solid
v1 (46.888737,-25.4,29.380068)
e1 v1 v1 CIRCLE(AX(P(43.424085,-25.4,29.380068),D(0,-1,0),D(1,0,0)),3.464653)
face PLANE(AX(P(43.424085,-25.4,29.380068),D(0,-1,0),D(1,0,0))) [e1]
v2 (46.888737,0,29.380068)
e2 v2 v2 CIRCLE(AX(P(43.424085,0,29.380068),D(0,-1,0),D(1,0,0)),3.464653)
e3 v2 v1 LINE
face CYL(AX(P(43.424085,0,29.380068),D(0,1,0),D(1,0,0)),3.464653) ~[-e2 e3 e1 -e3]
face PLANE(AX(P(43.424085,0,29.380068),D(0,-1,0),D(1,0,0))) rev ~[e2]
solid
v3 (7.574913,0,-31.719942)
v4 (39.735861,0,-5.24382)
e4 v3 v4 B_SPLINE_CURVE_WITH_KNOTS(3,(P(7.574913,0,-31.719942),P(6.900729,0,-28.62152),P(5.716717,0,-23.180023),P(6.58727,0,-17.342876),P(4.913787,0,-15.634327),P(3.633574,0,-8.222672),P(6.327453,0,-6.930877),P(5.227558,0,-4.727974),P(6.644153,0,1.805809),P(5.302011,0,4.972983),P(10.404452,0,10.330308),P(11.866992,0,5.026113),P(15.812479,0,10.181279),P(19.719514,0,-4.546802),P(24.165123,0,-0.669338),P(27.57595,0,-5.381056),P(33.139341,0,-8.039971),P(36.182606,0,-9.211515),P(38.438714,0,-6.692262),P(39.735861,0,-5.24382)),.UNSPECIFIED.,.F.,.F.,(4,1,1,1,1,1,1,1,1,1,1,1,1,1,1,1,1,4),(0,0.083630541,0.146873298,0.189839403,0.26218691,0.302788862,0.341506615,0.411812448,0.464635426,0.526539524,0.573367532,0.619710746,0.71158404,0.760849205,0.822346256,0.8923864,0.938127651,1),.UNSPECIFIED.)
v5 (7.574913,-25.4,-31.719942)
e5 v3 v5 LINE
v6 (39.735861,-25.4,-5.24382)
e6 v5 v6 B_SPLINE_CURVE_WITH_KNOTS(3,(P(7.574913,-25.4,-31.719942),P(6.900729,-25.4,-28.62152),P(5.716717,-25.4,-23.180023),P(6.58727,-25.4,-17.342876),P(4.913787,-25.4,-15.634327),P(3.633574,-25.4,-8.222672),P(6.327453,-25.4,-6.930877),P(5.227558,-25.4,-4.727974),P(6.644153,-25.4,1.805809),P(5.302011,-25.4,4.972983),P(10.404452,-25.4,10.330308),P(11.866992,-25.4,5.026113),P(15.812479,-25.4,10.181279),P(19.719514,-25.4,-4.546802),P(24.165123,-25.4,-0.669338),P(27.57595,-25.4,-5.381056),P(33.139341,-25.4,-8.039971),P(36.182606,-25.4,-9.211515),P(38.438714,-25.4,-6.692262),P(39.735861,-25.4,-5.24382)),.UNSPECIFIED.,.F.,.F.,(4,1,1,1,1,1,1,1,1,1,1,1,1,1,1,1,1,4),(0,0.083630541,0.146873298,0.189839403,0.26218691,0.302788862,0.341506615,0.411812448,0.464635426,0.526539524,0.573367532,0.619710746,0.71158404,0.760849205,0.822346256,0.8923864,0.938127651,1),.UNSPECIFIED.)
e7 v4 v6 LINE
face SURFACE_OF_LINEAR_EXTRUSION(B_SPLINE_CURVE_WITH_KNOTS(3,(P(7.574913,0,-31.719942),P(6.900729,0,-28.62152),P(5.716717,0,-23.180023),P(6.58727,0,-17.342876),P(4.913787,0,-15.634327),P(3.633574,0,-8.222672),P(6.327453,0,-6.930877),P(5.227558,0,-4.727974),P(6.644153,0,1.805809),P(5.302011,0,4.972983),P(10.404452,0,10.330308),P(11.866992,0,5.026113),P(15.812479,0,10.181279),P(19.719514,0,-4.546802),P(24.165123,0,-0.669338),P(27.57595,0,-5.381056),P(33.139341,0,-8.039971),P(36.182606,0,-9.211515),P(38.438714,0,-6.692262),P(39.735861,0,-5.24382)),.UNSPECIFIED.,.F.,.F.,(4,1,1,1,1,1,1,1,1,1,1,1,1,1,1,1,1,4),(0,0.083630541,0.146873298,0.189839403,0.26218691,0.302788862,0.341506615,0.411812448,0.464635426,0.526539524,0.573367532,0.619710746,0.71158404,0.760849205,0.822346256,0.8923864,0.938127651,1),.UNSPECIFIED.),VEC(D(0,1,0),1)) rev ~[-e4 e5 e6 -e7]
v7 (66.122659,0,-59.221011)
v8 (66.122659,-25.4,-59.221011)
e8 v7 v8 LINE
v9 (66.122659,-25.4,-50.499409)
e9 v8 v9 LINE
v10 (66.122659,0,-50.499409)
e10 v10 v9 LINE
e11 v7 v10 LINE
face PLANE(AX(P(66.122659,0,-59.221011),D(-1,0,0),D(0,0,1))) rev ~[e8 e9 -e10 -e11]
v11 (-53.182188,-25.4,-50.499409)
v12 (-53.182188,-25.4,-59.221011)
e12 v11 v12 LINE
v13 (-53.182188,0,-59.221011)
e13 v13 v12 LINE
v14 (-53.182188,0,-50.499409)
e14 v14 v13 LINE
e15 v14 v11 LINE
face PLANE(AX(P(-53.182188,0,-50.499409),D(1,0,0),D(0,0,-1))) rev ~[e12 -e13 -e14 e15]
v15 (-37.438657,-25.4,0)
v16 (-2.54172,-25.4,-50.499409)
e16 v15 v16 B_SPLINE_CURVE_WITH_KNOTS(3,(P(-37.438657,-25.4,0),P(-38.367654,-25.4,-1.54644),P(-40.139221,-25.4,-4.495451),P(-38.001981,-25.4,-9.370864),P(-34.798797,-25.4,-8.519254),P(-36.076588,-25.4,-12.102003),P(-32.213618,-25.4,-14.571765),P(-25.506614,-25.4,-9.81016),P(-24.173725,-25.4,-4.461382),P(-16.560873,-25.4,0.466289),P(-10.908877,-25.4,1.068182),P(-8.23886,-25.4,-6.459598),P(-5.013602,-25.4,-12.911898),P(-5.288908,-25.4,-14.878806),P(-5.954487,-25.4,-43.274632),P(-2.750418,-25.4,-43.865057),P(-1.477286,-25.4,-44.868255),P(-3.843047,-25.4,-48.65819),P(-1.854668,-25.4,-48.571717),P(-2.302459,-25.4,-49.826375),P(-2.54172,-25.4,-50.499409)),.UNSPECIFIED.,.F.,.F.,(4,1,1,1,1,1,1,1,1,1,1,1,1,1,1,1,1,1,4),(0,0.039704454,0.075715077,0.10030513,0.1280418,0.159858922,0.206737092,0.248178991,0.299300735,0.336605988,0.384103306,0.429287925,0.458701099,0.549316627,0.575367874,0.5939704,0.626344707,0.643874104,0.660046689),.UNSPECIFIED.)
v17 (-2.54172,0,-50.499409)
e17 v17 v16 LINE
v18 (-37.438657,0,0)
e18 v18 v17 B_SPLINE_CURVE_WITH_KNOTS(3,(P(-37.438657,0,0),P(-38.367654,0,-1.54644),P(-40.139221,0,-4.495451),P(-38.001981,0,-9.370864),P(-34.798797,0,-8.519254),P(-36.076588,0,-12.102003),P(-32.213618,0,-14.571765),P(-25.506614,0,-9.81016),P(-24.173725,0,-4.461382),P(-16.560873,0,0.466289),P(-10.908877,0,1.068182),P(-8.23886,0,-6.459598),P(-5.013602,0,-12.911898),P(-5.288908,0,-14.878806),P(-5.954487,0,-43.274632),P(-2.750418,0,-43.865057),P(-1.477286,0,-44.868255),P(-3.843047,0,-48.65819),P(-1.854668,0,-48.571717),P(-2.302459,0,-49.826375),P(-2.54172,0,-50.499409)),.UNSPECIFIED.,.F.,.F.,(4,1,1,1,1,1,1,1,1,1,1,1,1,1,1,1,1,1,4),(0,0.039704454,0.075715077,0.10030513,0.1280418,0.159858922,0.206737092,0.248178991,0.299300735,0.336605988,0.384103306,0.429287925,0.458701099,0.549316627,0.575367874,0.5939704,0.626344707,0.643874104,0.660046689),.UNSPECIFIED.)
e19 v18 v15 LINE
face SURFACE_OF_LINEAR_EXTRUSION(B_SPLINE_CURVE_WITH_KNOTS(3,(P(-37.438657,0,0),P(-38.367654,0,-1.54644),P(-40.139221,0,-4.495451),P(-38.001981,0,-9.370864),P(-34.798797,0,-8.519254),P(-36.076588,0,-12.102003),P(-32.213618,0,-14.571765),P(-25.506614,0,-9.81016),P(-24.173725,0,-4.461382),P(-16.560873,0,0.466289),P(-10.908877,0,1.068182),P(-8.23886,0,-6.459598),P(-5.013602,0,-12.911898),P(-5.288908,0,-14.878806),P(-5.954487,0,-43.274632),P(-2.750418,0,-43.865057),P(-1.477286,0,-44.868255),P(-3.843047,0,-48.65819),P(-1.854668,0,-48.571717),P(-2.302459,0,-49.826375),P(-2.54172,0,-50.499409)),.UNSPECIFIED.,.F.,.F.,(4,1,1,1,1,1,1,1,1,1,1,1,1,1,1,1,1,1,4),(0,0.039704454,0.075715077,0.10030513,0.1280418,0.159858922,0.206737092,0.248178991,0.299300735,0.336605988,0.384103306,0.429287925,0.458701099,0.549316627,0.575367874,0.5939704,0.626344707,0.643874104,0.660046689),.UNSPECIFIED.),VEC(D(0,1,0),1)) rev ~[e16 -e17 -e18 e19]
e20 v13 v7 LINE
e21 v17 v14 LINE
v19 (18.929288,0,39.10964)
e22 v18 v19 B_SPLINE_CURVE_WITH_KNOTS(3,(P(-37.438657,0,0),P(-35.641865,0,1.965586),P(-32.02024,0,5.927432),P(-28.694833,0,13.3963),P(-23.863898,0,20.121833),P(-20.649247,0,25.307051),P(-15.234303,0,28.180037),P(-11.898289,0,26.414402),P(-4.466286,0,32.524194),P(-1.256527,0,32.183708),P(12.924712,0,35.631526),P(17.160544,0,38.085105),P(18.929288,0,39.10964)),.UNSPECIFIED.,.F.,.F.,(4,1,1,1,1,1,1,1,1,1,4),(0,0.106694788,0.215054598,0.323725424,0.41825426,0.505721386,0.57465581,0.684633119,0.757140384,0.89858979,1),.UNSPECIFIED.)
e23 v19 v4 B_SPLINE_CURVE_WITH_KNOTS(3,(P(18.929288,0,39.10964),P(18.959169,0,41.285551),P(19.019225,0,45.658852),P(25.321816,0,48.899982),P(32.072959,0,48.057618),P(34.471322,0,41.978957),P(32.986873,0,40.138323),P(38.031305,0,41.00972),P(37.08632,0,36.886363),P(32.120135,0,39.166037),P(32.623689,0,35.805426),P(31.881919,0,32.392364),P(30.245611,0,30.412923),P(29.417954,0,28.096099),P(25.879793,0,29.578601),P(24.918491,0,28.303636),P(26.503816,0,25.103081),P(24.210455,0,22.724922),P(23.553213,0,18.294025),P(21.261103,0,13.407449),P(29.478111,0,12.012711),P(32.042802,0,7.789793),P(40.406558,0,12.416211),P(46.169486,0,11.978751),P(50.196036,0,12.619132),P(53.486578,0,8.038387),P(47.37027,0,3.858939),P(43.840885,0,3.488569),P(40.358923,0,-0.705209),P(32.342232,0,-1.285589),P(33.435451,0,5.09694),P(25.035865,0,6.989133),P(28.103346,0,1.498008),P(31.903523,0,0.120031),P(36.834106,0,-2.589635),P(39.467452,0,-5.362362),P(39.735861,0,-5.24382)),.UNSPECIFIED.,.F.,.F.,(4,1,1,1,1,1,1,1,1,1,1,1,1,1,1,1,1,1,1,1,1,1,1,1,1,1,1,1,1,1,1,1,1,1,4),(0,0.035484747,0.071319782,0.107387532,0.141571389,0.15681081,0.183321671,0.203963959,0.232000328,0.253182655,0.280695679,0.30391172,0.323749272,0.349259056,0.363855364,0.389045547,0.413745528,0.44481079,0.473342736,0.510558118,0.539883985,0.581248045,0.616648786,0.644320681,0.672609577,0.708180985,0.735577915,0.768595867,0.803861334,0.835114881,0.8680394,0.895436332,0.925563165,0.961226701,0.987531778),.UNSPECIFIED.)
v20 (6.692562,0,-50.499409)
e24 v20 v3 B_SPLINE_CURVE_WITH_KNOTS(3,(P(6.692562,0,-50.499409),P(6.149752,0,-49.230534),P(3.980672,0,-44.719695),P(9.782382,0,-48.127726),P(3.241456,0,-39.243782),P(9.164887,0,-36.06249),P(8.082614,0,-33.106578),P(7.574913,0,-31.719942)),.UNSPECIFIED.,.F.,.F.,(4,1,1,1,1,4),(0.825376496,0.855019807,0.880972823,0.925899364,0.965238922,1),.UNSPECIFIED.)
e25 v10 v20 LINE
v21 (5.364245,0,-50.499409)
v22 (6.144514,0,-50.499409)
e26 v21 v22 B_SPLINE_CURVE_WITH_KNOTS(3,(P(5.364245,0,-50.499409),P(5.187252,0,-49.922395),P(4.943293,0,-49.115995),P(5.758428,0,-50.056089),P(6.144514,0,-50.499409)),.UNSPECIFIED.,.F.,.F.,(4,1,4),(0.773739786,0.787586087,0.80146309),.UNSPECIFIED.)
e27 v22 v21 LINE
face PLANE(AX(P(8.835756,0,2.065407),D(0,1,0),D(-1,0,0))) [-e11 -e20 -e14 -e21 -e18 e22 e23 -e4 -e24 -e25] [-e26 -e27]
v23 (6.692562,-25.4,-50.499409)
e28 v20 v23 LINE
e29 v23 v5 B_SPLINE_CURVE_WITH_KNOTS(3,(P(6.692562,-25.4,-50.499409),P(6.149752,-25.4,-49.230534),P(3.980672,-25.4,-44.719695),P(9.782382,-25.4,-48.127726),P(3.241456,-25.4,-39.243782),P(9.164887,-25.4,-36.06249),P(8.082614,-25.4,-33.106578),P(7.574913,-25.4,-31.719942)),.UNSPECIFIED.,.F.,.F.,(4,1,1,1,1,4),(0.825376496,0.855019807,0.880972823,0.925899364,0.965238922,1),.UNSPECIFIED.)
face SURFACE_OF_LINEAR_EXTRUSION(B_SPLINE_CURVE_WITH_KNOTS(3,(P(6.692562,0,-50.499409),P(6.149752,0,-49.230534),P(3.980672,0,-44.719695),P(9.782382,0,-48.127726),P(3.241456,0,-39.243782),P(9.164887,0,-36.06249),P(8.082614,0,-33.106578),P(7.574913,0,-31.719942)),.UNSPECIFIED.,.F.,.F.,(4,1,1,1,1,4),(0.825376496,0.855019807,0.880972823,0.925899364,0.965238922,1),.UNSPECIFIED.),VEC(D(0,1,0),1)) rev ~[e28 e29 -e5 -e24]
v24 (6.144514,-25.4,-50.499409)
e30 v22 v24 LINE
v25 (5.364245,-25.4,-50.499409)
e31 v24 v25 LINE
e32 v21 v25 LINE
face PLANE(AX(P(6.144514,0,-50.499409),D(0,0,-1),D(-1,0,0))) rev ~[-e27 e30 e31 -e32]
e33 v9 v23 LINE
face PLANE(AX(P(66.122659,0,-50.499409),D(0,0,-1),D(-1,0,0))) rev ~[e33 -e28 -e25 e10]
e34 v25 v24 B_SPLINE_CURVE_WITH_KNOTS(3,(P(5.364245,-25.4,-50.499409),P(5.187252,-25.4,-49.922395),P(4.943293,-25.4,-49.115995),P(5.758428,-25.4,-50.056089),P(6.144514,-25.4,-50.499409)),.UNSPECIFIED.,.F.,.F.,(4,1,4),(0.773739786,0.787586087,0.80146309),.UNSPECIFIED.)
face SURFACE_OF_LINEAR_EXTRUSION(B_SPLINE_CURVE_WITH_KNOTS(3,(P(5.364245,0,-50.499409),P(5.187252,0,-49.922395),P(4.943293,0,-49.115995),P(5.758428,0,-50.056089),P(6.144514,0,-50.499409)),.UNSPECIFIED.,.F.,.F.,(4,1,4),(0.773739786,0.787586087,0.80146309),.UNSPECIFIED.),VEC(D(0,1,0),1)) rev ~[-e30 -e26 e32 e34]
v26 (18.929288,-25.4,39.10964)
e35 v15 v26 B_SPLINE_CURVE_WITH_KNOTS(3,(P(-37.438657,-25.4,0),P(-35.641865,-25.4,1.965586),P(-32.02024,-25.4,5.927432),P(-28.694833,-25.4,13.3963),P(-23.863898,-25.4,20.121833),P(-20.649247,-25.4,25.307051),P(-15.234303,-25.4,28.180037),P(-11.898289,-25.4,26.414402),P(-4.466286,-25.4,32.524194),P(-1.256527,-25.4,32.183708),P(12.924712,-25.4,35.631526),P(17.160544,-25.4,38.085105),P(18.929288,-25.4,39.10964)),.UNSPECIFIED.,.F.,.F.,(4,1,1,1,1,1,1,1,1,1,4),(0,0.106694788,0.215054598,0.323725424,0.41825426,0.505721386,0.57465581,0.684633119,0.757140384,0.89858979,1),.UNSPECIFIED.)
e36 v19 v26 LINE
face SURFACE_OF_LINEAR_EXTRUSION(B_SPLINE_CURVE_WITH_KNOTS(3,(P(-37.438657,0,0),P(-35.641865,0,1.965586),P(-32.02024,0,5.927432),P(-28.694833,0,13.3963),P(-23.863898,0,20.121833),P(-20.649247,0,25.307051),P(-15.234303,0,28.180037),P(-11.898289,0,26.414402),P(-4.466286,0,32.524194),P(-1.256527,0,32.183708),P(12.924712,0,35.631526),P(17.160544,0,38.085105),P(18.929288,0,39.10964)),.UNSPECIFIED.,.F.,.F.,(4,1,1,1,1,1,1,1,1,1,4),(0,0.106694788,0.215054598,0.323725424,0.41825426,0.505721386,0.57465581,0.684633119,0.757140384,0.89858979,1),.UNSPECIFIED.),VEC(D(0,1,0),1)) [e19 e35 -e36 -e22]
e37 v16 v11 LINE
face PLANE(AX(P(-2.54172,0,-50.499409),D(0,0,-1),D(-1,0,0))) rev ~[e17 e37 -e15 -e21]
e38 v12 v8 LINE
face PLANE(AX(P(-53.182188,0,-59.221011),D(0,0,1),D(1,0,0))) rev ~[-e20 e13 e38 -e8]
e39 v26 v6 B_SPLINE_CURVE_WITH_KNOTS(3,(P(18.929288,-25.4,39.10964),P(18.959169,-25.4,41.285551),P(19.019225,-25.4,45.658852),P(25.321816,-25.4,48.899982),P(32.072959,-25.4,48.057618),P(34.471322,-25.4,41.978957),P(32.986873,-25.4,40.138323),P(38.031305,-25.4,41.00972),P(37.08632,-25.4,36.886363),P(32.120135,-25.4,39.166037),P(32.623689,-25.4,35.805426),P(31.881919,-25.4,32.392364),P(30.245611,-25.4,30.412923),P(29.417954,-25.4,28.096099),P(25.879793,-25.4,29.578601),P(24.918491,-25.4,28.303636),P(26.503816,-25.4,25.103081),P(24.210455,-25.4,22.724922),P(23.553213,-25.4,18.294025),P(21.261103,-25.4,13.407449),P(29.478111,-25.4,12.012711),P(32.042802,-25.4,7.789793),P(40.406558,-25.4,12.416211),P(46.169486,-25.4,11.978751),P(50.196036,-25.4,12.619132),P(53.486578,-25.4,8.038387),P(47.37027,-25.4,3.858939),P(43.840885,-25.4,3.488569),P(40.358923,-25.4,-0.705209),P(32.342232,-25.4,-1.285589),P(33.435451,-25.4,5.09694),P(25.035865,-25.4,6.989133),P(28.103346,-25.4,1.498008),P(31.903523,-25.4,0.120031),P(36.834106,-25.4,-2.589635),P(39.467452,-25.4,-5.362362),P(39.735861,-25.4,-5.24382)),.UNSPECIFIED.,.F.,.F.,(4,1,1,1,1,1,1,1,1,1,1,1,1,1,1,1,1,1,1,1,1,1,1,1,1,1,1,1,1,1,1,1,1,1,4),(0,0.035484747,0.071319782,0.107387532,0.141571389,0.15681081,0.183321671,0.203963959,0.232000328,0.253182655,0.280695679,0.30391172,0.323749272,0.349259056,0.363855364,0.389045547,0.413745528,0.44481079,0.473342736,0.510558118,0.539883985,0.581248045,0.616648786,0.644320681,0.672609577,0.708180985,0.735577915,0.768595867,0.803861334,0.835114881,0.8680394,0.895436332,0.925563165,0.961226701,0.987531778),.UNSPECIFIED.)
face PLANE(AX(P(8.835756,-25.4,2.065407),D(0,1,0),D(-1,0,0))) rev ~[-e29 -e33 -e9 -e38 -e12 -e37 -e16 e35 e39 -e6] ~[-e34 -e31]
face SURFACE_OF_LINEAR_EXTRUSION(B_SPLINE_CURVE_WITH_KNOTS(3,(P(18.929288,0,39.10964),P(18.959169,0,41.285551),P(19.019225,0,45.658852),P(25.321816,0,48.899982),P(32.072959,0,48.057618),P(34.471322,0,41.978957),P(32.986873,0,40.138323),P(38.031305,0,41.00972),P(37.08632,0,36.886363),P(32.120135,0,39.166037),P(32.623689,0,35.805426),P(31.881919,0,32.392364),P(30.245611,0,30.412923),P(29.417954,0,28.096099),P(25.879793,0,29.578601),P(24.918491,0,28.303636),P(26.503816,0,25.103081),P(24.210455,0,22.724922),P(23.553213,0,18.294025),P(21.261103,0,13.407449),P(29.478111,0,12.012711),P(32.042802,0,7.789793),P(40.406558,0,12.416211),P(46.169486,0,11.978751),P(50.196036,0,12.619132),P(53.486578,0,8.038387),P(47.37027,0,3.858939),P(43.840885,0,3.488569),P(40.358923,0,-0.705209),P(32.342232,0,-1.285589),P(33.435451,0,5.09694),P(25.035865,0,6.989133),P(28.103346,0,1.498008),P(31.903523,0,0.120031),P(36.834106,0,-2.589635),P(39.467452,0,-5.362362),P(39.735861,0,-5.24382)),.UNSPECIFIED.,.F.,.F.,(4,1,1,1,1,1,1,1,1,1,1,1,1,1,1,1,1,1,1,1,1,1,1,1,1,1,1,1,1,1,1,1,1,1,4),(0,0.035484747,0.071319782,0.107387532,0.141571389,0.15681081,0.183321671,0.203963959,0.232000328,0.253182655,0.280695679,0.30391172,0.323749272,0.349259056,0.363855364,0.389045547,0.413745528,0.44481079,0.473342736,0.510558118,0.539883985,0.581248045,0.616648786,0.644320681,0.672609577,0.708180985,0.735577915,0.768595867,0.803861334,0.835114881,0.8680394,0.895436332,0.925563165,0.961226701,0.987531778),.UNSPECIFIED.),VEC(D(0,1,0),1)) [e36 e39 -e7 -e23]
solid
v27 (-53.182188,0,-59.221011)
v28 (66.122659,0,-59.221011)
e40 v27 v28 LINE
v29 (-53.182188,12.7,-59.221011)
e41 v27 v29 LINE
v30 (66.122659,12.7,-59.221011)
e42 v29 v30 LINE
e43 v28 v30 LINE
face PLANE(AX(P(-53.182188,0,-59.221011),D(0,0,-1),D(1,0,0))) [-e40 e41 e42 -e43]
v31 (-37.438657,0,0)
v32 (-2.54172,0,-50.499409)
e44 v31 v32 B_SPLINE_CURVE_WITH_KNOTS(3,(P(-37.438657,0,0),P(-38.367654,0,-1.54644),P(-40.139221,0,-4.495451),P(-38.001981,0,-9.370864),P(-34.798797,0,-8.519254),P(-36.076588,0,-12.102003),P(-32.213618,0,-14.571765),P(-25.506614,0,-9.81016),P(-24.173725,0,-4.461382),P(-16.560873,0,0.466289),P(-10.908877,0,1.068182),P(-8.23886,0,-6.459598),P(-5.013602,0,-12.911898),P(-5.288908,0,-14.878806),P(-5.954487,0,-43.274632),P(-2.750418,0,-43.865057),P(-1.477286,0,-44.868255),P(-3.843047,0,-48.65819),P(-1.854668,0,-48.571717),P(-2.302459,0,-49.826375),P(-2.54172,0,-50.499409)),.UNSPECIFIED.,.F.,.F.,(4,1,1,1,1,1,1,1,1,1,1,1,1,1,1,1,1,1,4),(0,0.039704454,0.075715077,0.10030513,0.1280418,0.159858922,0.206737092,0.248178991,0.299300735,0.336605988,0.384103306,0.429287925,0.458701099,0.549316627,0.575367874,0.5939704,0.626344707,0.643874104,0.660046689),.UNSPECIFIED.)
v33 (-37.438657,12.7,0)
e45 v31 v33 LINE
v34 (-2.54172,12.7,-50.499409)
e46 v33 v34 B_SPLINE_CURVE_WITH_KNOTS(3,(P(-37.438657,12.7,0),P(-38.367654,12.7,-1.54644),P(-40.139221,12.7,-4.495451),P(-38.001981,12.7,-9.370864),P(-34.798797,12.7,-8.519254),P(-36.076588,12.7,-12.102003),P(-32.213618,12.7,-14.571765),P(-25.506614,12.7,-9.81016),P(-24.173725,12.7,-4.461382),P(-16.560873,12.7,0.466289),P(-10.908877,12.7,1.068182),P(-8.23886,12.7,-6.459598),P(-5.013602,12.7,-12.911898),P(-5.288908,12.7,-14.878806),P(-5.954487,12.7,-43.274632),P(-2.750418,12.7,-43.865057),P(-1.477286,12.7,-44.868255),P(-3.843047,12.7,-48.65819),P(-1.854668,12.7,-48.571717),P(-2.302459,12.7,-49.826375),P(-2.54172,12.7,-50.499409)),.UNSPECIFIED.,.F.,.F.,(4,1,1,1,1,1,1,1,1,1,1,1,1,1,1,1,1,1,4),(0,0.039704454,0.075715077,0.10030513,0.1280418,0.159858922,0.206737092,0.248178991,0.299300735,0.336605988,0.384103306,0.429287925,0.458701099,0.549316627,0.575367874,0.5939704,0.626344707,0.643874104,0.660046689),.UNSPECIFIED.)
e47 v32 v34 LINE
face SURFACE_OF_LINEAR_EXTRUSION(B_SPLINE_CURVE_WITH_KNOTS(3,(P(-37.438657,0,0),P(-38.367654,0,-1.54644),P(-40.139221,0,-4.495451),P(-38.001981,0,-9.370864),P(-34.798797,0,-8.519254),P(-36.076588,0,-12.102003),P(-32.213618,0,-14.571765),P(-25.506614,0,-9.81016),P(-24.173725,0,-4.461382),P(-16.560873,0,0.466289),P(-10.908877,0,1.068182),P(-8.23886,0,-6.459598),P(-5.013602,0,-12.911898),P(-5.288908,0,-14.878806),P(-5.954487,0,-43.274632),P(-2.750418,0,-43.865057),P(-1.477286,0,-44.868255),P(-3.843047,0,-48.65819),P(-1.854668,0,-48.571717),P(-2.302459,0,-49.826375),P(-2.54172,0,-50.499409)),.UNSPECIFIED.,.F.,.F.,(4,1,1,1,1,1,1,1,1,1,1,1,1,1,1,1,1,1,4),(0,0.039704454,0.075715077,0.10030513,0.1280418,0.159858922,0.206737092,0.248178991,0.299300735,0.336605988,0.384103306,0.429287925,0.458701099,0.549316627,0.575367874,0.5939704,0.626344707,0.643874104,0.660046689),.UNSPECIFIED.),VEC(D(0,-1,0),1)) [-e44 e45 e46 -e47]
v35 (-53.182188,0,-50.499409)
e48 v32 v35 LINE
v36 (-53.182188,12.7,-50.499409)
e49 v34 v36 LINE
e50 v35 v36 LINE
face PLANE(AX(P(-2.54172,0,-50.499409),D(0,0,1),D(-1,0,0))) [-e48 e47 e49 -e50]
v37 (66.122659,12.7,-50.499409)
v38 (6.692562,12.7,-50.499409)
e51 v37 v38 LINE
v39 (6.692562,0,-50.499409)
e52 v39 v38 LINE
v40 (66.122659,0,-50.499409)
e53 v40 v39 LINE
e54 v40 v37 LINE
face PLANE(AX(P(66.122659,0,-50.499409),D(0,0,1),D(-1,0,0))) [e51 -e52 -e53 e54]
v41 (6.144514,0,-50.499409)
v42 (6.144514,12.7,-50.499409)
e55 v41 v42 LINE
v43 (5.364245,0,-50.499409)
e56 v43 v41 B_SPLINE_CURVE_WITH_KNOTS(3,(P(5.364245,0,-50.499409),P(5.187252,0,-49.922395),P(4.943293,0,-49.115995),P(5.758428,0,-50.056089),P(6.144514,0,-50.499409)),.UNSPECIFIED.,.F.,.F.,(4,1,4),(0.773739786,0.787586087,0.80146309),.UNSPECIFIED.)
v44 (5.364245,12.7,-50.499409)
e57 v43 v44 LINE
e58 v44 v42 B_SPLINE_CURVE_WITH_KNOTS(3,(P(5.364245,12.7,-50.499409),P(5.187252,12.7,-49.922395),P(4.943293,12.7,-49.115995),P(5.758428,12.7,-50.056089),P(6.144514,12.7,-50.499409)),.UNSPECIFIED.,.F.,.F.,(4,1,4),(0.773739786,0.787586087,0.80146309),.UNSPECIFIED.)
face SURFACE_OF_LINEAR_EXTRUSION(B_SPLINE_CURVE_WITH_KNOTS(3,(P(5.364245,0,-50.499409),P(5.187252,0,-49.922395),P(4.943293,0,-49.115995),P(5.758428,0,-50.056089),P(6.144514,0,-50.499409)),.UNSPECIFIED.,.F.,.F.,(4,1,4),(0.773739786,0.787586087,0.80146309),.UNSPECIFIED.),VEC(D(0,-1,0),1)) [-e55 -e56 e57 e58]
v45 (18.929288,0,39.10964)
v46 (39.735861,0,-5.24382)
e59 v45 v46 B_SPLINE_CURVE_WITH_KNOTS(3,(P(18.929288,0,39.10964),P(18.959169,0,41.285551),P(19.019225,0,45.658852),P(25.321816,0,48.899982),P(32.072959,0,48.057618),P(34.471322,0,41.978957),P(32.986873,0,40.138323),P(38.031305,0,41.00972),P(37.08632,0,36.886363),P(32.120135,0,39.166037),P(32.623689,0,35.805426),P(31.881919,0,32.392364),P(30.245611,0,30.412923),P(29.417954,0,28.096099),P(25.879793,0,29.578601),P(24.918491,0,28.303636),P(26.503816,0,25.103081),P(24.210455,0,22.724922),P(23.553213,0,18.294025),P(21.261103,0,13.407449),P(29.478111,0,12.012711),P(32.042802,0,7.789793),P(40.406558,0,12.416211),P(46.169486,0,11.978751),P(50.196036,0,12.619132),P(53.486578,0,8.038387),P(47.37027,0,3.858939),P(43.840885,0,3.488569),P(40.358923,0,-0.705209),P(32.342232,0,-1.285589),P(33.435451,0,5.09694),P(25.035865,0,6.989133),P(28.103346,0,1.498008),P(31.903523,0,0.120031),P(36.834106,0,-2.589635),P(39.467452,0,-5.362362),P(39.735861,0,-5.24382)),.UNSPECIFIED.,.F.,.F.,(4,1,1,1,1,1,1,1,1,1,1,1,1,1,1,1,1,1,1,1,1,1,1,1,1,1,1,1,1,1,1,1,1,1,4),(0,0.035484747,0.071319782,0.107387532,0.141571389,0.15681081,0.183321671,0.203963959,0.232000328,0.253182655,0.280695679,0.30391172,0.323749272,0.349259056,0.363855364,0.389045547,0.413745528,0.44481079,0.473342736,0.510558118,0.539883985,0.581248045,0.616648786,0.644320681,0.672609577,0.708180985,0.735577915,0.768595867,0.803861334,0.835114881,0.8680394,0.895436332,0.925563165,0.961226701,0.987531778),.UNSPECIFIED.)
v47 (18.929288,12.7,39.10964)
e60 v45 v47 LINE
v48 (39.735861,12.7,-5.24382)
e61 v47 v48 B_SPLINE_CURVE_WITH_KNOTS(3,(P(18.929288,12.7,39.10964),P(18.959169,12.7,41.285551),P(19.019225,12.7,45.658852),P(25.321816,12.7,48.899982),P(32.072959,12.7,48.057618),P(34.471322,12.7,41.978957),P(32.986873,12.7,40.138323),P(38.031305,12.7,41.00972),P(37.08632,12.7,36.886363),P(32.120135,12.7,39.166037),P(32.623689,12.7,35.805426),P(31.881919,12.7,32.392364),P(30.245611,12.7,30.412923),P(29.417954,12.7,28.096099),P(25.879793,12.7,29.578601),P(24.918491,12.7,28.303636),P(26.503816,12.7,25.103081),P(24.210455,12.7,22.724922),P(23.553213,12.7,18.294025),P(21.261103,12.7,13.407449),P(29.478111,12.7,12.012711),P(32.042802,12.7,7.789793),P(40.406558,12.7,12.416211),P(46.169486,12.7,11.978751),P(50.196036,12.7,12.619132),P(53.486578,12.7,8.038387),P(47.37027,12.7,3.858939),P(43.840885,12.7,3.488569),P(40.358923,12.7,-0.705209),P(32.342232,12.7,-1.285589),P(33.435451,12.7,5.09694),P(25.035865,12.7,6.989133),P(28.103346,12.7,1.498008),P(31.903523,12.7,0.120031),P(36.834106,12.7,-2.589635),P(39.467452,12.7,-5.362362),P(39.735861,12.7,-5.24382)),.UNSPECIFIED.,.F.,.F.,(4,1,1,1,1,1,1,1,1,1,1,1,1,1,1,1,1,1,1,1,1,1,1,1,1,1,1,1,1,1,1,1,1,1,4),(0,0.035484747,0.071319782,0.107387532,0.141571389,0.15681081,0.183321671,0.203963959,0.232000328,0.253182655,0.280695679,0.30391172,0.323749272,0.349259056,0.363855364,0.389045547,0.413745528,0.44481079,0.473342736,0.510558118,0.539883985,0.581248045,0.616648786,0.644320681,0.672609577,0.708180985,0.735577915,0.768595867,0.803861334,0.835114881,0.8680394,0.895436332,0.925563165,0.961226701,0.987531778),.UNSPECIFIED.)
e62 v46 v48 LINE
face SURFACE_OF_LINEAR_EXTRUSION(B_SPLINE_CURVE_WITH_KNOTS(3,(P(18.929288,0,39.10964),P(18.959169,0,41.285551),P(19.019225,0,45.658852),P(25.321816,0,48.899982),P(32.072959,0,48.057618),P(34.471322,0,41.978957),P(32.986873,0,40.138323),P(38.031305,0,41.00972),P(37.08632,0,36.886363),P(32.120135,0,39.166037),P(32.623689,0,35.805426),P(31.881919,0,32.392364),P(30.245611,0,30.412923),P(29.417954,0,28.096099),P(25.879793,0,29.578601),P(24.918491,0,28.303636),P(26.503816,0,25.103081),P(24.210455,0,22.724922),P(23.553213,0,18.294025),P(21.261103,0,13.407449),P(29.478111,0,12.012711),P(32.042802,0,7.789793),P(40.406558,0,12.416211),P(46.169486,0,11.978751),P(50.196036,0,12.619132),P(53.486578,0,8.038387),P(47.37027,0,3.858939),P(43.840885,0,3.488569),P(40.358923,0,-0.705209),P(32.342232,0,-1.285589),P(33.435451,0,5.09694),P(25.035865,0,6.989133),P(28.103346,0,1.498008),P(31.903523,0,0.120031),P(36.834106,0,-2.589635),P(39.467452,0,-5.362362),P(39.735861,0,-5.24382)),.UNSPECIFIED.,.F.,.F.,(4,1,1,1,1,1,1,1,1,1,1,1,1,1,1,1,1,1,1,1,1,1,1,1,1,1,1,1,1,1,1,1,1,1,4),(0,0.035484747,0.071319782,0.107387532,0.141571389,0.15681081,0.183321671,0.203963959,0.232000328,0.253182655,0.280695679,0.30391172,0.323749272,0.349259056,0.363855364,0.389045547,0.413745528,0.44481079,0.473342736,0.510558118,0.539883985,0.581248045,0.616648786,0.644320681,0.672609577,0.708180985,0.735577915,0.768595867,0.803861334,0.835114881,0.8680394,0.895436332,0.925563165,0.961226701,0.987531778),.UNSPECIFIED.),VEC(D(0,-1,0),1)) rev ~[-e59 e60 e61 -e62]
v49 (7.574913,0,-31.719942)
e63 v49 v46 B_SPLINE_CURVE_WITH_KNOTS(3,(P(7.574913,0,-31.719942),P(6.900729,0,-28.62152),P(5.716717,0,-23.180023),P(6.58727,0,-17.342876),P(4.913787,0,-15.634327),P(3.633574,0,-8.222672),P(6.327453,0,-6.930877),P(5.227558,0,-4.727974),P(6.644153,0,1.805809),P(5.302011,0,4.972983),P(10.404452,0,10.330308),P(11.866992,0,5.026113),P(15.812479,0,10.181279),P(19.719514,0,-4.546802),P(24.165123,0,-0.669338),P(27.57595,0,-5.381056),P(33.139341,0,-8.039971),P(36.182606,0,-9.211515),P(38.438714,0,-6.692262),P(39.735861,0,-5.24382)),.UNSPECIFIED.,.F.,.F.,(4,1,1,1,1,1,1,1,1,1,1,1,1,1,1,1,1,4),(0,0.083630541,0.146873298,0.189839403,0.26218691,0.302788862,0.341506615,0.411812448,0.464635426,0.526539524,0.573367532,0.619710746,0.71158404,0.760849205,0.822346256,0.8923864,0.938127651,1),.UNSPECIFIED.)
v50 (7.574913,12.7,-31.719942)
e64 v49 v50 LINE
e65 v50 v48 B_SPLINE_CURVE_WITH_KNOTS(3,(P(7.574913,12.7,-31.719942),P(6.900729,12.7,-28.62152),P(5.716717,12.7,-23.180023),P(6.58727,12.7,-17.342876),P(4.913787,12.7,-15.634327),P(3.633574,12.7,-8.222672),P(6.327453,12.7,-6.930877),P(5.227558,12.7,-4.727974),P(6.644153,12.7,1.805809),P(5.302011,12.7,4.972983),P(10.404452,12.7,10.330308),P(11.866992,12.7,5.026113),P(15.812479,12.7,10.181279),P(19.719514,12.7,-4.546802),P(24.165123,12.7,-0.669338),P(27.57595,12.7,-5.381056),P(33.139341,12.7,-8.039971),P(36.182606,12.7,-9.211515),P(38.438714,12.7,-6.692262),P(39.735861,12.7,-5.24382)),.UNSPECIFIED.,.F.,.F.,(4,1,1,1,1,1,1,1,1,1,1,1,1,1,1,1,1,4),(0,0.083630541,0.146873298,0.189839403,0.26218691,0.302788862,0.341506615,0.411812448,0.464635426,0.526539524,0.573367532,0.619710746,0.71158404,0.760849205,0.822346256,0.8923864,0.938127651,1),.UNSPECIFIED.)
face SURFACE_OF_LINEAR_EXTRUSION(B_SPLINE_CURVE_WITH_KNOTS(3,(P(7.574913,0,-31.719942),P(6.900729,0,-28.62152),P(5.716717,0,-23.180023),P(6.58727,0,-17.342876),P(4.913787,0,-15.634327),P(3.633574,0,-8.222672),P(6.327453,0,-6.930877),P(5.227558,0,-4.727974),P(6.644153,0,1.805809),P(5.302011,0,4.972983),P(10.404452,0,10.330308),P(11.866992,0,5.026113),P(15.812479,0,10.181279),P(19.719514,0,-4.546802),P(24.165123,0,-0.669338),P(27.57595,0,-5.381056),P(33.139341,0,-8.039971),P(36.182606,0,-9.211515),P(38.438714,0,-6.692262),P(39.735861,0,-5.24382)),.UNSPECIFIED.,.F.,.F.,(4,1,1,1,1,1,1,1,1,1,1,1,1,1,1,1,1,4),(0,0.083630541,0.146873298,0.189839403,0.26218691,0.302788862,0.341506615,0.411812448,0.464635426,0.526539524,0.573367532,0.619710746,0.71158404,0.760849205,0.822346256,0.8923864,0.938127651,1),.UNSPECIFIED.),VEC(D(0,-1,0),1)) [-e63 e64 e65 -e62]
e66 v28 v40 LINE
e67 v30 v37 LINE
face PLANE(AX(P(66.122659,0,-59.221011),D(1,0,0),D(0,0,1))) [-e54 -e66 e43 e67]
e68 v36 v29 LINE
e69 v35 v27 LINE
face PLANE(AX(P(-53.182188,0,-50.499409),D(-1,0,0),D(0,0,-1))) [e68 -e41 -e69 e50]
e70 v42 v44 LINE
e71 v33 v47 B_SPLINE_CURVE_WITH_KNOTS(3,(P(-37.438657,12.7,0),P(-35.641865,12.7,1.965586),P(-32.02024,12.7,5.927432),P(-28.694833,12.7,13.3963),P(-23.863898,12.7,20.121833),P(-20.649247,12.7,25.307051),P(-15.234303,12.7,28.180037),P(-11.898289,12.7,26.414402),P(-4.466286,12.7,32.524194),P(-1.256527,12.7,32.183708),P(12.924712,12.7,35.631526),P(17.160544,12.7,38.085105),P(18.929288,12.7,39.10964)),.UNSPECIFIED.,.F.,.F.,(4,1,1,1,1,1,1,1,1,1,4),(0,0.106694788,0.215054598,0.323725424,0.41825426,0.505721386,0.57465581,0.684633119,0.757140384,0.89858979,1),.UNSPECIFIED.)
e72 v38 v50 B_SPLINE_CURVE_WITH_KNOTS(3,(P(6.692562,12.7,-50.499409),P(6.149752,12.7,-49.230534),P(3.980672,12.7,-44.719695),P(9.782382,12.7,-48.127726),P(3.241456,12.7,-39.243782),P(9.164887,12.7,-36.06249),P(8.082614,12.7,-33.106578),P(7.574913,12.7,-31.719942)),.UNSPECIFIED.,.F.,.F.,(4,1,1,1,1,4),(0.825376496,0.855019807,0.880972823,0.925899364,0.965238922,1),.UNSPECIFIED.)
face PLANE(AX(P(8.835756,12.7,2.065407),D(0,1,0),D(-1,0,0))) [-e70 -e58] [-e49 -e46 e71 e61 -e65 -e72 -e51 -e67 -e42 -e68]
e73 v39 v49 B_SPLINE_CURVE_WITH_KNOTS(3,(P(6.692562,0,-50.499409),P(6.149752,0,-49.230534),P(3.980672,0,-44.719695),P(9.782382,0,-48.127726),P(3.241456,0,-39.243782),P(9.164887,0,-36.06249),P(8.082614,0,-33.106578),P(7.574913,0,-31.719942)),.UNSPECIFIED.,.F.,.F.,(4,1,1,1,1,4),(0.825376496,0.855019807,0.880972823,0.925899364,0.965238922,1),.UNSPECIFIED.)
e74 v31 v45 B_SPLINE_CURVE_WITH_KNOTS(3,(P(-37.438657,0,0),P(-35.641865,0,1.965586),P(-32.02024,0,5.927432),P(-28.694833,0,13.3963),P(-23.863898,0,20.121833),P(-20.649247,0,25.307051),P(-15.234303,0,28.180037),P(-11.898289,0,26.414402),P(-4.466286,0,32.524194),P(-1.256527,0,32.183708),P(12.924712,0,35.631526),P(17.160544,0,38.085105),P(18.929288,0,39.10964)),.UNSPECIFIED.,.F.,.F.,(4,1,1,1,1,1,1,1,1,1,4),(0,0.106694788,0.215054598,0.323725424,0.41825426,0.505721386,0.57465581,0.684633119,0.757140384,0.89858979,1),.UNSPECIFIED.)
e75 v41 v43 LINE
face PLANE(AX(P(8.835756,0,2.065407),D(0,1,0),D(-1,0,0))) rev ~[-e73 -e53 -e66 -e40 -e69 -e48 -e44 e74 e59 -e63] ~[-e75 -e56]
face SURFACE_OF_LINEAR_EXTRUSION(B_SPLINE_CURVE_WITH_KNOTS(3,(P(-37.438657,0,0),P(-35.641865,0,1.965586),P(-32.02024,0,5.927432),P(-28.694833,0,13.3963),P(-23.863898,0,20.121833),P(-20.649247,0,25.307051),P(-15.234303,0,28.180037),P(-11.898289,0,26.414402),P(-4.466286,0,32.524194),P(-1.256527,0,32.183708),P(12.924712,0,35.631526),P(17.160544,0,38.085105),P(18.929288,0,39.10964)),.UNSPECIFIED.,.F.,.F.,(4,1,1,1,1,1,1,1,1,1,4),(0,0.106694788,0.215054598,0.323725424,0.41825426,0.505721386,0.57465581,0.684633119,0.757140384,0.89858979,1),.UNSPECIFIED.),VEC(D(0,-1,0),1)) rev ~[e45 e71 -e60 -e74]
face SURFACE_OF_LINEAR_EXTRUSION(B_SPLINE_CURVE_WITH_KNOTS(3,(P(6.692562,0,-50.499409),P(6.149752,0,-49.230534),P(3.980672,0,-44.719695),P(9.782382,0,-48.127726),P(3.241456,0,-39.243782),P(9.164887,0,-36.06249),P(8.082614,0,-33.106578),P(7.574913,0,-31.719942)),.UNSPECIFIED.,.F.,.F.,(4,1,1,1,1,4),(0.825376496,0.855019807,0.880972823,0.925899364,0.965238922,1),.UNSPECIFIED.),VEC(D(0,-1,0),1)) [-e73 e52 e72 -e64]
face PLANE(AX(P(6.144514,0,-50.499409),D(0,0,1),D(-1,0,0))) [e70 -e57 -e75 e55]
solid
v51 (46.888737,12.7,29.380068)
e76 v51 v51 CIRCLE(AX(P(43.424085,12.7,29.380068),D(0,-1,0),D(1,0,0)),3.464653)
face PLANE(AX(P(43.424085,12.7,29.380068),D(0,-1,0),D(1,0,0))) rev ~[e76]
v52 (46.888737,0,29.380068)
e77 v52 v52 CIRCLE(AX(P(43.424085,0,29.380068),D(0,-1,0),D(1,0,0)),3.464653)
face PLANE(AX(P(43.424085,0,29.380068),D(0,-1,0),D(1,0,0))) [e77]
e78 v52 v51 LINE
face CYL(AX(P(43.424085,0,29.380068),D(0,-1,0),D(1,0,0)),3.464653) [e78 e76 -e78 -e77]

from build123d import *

# Parameters (mm, degrees)
F1_DEPTH = 12.7
F0_R     = 3.4646525672
F2_DEPTH = 25.4


with BuildPart() as f1:
    # F0 (on Front) → F1 (new body)
    with BuildSketch(Plane.XZ):
        with BuildLine():
            add(Edge.make_bspline(
                [(-37.4386571348, 0), (-35.6418648103, 1.9655861704), (-32.0202403871, 5.9274323913), (-28.6948333521, 13.3963000649), (-23.8638983433, 20.1218328372), (-20.6492472937, 25.3070509285), (-15.2343028794, 28.1800373183), (-11.8982889507, 26.4144016114), (-4.466286247, 32.5241939032), (-1.2565267657, 32.1837075576), (12.9247121568, 35.6315258291), (17.1605435375, 38.085105449), (18.9292877913, 39.1096398234)],
                knots=[0, 0, 0, 0, 0.1066947881, 0.2150545977, 0.3237254241, 0.4182542597, 0.5057213855, 0.57465581, 0.6846331194, 0.757140384, 0.8985897899, 1, 1, 1, 1], degree=3))
            add(Edge.make_bspline(
                [(-37.4386571348, 0), (-38.3676544146, -1.5464404413), (-40.1392214332, -4.4954511019), (-38.0019809899, -9.3708640599), (-34.7987965325, -8.5192537949), (-36.0765875101, -12.1020025034), (-32.2136181881, -14.5717645155), (-25.5066142614, -9.8101602808), (-24.1737245259, -4.4613822747), (-16.5608733486, 0.4662887906), (-10.9088773004, 1.0681816016), (-8.2388595476, -6.4595978002), (-5.0136019945, -12.9118980509), (-5.2889076985, -14.8788062005), (-5.9544869903, -43.2746316243), (-2.7504183063, -43.865057337), (-1.4772856155, -44.8682549686), (-3.8430471049, -48.658190148), (-1.8546676317, -48.5717170273), (-2.302459375, -49.826374902), (-2.5417198464, -50.4994094372)],
                knots=[0, 0, 0, 0, 0.0397044538, 0.0757150772, 0.1003051297, 0.1280418001, 0.1598589216, 0.2067370922, 0.2481789907, 0.2993007354, 0.3366059884, 0.384103306, 0.4292879246, 0.4587010987, 0.5493166266, 0.5753678742, 0.5939703998, 0.6263447068, 0.6438741036, 0.6600466888, 0.6600466888, 0.6600466888, 0.6600466888], degree=3))
            Line((-2.5417198464, -50.4994094372), (5.3642448427, -50.4994094372))
            add(Edge.make_bspline(
                [(5.3642448427, -50.4994094372), (5.1872521502, -49.9223948707), (4.9432925694, -49.1159948327), (5.7584284263, -50.0560892457), (6.1445142804, -50.4994094372)],
                knots=[0.7737397858, 0.7737397858, 0.7737397858, 0.7737397858, 0.7875860869, 0.80146309, 0.80146309, 0.80146309, 0.80146309], degree=3))
            Line((6.1445142804, -50.4994094372), (6.6925615738, -50.4994094372))
            add(Edge.make_bspline(
                [(6.6925615738, -50.4994094372), (6.1497521085, -49.2305339603), (3.9806719548, -44.7196945557), (9.7823822852, -48.1277255261), (3.241456153, -39.2437824003), (9.1648869953, -36.0624895955), (8.0826138261, -33.106578341), (7.5749126263, -31.7199416459)],
                knots=[0.8253764959, 0.8253764959, 0.8253764959, 0.8253764959, 0.8550198068, 0.8809728233, 0.925899364, 0.9652389222, 1, 1, 1, 1], degree=3))
            add(Edge.make_bspline(
                [(7.5749126263, -31.7199416459), (6.9007289659, -28.6215203257), (5.7167167982, -23.1800230606), (6.5872697264, -17.3428759363), (4.9137868666, -15.6343272657), (3.6335738336, -8.2226718754), (6.3274530786, -6.93087691), (5.2275576346, -4.727973781), (6.6441528494, 1.8058092968), (5.3020110852, 4.9729828932), (10.4044517509, 10.3303081299), (11.8669921686, 5.0261132156), (15.8124792651, 10.1812793873), (19.7195141916, -4.5468018538), (24.1651227879, -0.669337993), (27.5759499216, -5.3810562057), (33.1393409406, -8.0399713443), (36.182605596, -9.2115149339), (38.4387136729, -6.6922623194), (39.7358611226, -5.2438201383)],
                knots=[0, 0, 0, 0, 0.0836305405, 0.1468732979, 0.1898394028, 0.2621869099, 0.3027888617, 0.3415066155, 0.4118124484, 0.4646354261, 0.5265395243, 0.5733675321, 0.6197107456, 0.7115840397, 0.760849205, 0.8223462561, 0.8923864002, 0.9381276509, 1, 1, 1, 1], degree=3))
            add(Edge.make_bspline(
                [(18.9292877913, 39.1096398234), (18.9591685738, 41.285550804), (19.019225108, 45.6588523335), (25.3218155341, 48.8999824127), (32.0729586831, 48.0576183064), (34.4713220772, 41.9789568134), (32.9868731409, 40.138323117), (38.0313053669, 41.0097200411), (37.0863196605, 36.8863632272), (32.1201353052, 39.1660366545), (32.6236885862, 35.8054257064), (31.8819190849, 32.3923635691), (30.2456114663, 30.4129228347), (29.4179544277, 28.0960985455), (25.8797928387, 29.5786010397), (24.9184908986, 28.3036361224), (26.5038160257, 25.1030814733), (24.2104553794, 22.7249215249), (23.553213385, 18.294025084), (21.261102504, 13.4074489309), (29.4781112269, 12.0127108011), (32.0428015222, 7.7897926849), (40.4065578761, 12.4162113215), (46.1694860671, 11.9787507009), (50.1960357067, 12.6191324529), (53.48657794, 8.0383865732), (47.3702700881, 3.8589387248), (43.8408854434, 3.4885690759), (40.3589228479, -0.7052087651), (32.3422319557, -1.2855894929), (33.4354510369, 5.0969400298), (25.0358649123, 6.9891331793), (28.1033456519, 1.498008455), (31.9035234217, 0.1200307441), (36.8341064801, -2.5896351977), (39.4674523496, -5.3623619448), (39.7358611226, -5.2438201383)],
                knots=[0, 0, 0, 0, 0.0354847468, 0.0713197823, 0.1073875319, 0.1415713891, 0.1568108096, 0.1833216714, 0.203963959, 0.2320003285, 0.2531826547, 0.2806956794, 0.3039117204, 0.3237492718, 0.3492590555, 0.3638553642, 0.3890455465, 0.4137455279, 0.4448107897, 0.4733427362, 0.5105581185, 0.5398839847, 0.5812480451, 0.6166487857, 0.6443206805, 0.6726095766, 0.708180985, 0.7355779146, 0.7685958669, 0.8038613339, 0.8351148808, 0.8680393997, 0.8954363324, 0.9255631648, 0.9612267014, 0.9875317784, 0.9875317784, 0.9875317784, 0.9875317784], degree=3))
        make_face()
        with BuildLine():
            Line((5.3642448427, -50.4994094372), (-2.5417198464, -50.4994094372))
            add(Edge.make_bspline(
                [(-2.5417198464, -50.4994094372), (-2.8098953325, -51.2537812839), (-3.7252672636, -53.8378827838), (1.1909552642, -54.5208851831), (6.707524503, -54.8445623852), (5.6240423951, -51.3463764498), (5.3642448427, -50.4994094372)],
                knots=[0.6600466888, 0.6600466888, 0.6600466888, 0.6600466888, 0.6781737572, 0.715578416, 0.7534155845, 0.7737397858, 0.7737397858, 0.7737397858, 0.7737397858], degree=3))
        make_face()
        with BuildLine():
            add(Edge.make_bspline(
                [(-2.5417198464, -50.4994094372), (-2.8098953325, -51.2537812839), (-3.7252672636, -53.8378827838), (1.1909552642, -54.5208851831), (6.707524503, -54.8445623852), (5.6240423951, -51.3463764498), (5.3642448427, -50.4994094372)],
                knots=[0.6600466888, 0.6600466888, 0.6600466888, 0.6600466888, 0.6781737572, 0.715578416, 0.7534155845, 0.7737397858, 0.7737397858, 0.7737397858, 0.7737397858], degree=3))
            Line((-2.5417198464, -50.4994094372), (-53.1821884215, -50.4994094372))
            Line((-53.1821884215, -50.4994094372), (-53.1821884215, -59.2210108976))
            Line((-53.1821884215, -59.2210108976), (66.1226585507, -59.2210108976))
            Line((66.1226585507, -59.2210108976), (66.1226585507, -50.4994094372))
            Line((66.1226585507, -50.4994094372), (6.6925615738, -50.4994094372))
            add(Edge.make_bspline(
                [(6.1445142804, -50.4994094372), (6.5186028583, -50.928953846), (7.1472993515, -51.6474058709), (6.8842379506, -50.947473573), (6.6925615738, -50.4994094372)],
                knots=[0.80146309, 0.80146309, 0.80146309, 0.80146309, 0.8149088774, 0.8253764959, 0.8253764959, 0.8253764959, 0.8253764959], degree=3))
            Line((6.1445142804, -50.4994094372), (5.3642448427, -50.4994094372))
        make_face()
        with BuildLine():
            Line((6.6925615738, -50.4994094372), (6.1445142804, -50.4994094372))
            add(Edge.make_bspline(
                [(6.1445142804, -50.4994094372), (6.5186028583, -50.928953846), (7.1472993515, -51.6474058709), (6.8842379506, -50.947473573), (6.6925615738, -50.4994094372)],
                knots=[0.80146309, 0.80146309, 0.80146309, 0.80146309, 0.8149088774, 0.8253764959, 0.8253764959, 0.8253764959, 0.8253764959], degree=3))
        make_face()
    extrude(amount=-F1_DEPTH)


with BuildPart() as f1b:
    # F0 (on Front) → F1, piece 2 (new body)
    with BuildSketch(Plane.XZ):
        with Locations((43.4240847826, 29.3800681829)):
            Circle(F0_R)
    extrude(amount=-F1_DEPTH)


with BuildPart() as f2:
    # F0 (on Front) → F2 (new body)
    with BuildSketch(Plane.XZ):
        with BuildLine():
            add(Edge.make_bspline(
                [(-37.4386571348, 0), (-35.6418648103, 1.9655861704), (-32.0202403871, 5.9274323913), (-28.6948333521, 13.3963000649), (-23.8638983433, 20.1218328372), (-20.6492472937, 25.3070509285), (-15.2343028794, 28.1800373183), (-11.8982889507, 26.4144016114), (-4.466286247, 32.5241939032), (-1.2565267657, 32.1837075576), (12.9247121568, 35.6315258291), (17.1605435375, 38.085105449), (18.9292877913, 39.1096398234)],
                knots=[0, 0, 0, 0, 0.1066947881, 0.2150545977, 0.3237254241, 0.4182542597, 0.5057213855, 0.57465581, 0.6846331194, 0.757140384, 0.8985897899, 1, 1, 1, 1], degree=3))
            add(Edge.make_bspline(
                [(-37.4386571348, 0), (-38.3676544146, -1.5464404413), (-40.1392214332, -4.4954511019), (-38.0019809899, -9.3708640599), (-34.7987965325, -8.5192537949), (-36.0765875101, -12.1020025034), (-32.2136181881, -14.5717645155), (-25.5066142614, -9.8101602808), (-24.1737245259, -4.4613822747), (-16.5608733486, 0.4662887906), (-10.9088773004, 1.0681816016), (-8.2388595476, -6.4595978002), (-5.0136019945, -12.9118980509), (-5.2889076985, -14.8788062005), (-5.9544869903, -43.2746316243), (-2.7504183063, -43.865057337), (-1.4772856155, -44.8682549686), (-3.8430471049, -48.658190148), (-1.8546676317, -48.5717170273), (-2.302459375, -49.826374902), (-2.5417198464, -50.4994094372)],
                knots=[0, 0, 0, 0, 0.0397044538, 0.0757150772, 0.1003051297, 0.1280418001, 0.1598589216, 0.2067370922, 0.2481789907, 0.2993007354, 0.3366059884, 0.384103306, 0.4292879246, 0.4587010987, 0.5493166266, 0.5753678742, 0.5939703998, 0.6263447068, 0.6438741036, 0.6600466888, 0.6600466888, 0.6600466888, 0.6600466888], degree=3))
            Line((-2.5417198464, -50.4994094372), (5.3642448427, -50.4994094372))
            add(Edge.make_bspline(
                [(5.3642448427, -50.4994094372), (5.1872521502, -49.9223948707), (4.9432925694, -49.1159948327), (5.7584284263, -50.0560892457), (6.1445142804, -50.4994094372)],
                knots=[0.7737397858, 0.7737397858, 0.7737397858, 0.7737397858, 0.7875860869, 0.80146309, 0.80146309, 0.80146309, 0.80146309], degree=3))
            Line((6.1445142804, -50.4994094372), (6.6925615738, -50.4994094372))
            add(Edge.make_bspline(
                [(6.6925615738, -50.4994094372), (6.1497521085, -49.2305339603), (3.9806719548, -44.7196945557), (9.7823822852, -48.1277255261), (3.241456153, -39.2437824003), (9.1648869953, -36.0624895955), (8.0826138261, -33.106578341), (7.5749126263, -31.7199416459)],
                knots=[0.8253764959, 0.8253764959, 0.8253764959, 0.8253764959, 0.8550198068, 0.8809728233, 0.925899364, 0.9652389222, 1, 1, 1, 1], degree=3))
            add(Edge.make_bspline(
                [(7.5749126263, -31.7199416459), (6.9007289659, -28.6215203257), (5.7167167982, -23.1800230606), (6.5872697264, -17.3428759363), (4.9137868666, -15.6343272657), (3.6335738336, -8.2226718754), (6.3274530786, -6.93087691), (5.2275576346, -4.727973781), (6.6441528494, 1.8058092968), (5.3020110852, 4.9729828932), (10.4044517509, 10.3303081299), (11.8669921686, 5.0261132156), (15.8124792651, 10.1812793873), (19.7195141916, -4.5468018538), (24.1651227879, -0.669337993), (27.5759499216, -5.3810562057), (33.1393409406, -8.0399713443), (36.182605596, -9.2115149339), (38.4387136729, -6.6922623194), (39.7358611226, -5.2438201383)],
                knots=[0, 0, 0, 0, 0.0836305405, 0.1468732979, 0.1898394028, 0.2621869099, 0.3027888617, 0.3415066155, 0.4118124484, 0.4646354261, 0.5265395243, 0.5733675321, 0.6197107456, 0.7115840397, 0.760849205, 0.8223462561, 0.8923864002, 0.9381276509, 1, 1, 1, 1], degree=3))
            add(Edge.make_bspline(
                [(18.9292877913, 39.1096398234), (18.9591685738, 41.285550804), (19.019225108, 45.6588523335), (25.3218155341, 48.8999824127), (32.0729586831, 48.0576183064), (34.4713220772, 41.9789568134), (32.9868731409, 40.138323117), (38.0313053669, 41.0097200411), (37.0863196605, 36.8863632272), (32.1201353052, 39.1660366545), (32.6236885862, 35.8054257064), (31.8819190849, 32.3923635691), (30.2456114663, 30.4129228347), (29.4179544277, 28.0960985455), (25.8797928387, 29.5786010397), (24.9184908986, 28.3036361224), (26.5038160257, 25.1030814733), (24.2104553794, 22.7249215249), (23.553213385, 18.294025084), (21.261102504, 13.4074489309), (29.4781112269, 12.0127108011), (32.0428015222, 7.7897926849), (40.4065578761, 12.4162113215), (46.1694860671, 11.9787507009), (50.1960357067, 12.6191324529), (53.48657794, 8.0383865732), (47.3702700881, 3.8589387248), (43.8408854434, 3.4885690759), (40.3589228479, -0.7052087651), (32.3422319557, -1.2855894929), (33.4354510369, 5.0969400298), (25.0358649123, 6.9891331793), (28.1033456519, 1.498008455), (31.9035234217, 0.1200307441), (36.8341064801, -2.5896351977), (39.4674523496, -5.3623619448), (39.7358611226, -5.2438201383)],
                knots=[0, 0, 0, 0, 0.0354847468, 0.0713197823, 0.1073875319, 0.1415713891, 0.1568108096, 0.1833216714, 0.203963959, 0.2320003285, 0.2531826547, 0.2806956794, 0.3039117204, 0.3237492718, 0.3492590555, 0.3638553642, 0.3890455465, 0.4137455279, 0.4448107897, 0.4733427362, 0.5105581185, 0.5398839847, 0.5812480451, 0.6166487857, 0.6443206805, 0.6726095766, 0.708180985, 0.7355779146, 0.7685958669, 0.8038613339, 0.8351148808, 0.8680393997, 0.8954363324, 0.9255631648, 0.9612267014, 0.9875317784, 0.9875317784, 0.9875317784, 0.9875317784], degree=3))
        make_face()
        with BuildLine():
            Line((5.3642448427, -50.4994094372), (-2.5417198464, -50.4994094372))
            add(Edge.make_bspline(
                [(-2.5417198464, -50.4994094372), (-2.8098953325, -51.2537812839), (-3.7252672636, -53.8378827838), (1.1909552642, -54.5208851831), (6.707524503, -54.8445623852), (5.6240423951, -51.3463764498), (5.3642448427, -50.4994094372)],
                knots=[0.6600466888, 0.6600466888, 0.6600466888, 0.6600466888, 0.6781737572, 0.715578416, 0.7534155845, 0.7737397858, 0.7737397858, 0.7737397858, 0.7737397858], degree=3))
        make_face()
        with BuildLine():
            add(Edge.make_bspline(
                [(-2.5417198464, -50.4994094372), (-2.8098953325, -51.2537812839), (-3.7252672636, -53.8378827838), (1.1909552642, -54.5208851831), (6.707524503, -54.8445623852), (5.6240423951, -51.3463764498), (5.3642448427, -50.4994094372)],
                knots=[0.6600466888, 0.6600466888, 0.6600466888, 0.6600466888, 0.6781737572, 0.715578416, 0.7534155845, 0.7737397858, 0.7737397858, 0.7737397858, 0.7737397858], degree=3))
            Line((-2.5417198464, -50.4994094372), (-53.1821884215, -50.4994094372))
            Line((-53.1821884215, -50.4994094372), (-53.1821884215, -59.2210108976))
            Line((-53.1821884215, -59.2210108976), (66.1226585507, -59.2210108976))
            Line((66.1226585507, -59.2210108976), (66.1226585507, -50.4994094372))
            Line((66.1226585507, -50.4994094372), (6.6925615738, -50.4994094372))
            add(Edge.make_bspline(
                [(6.1445142804, -50.4994094372), (6.5186028583, -50.928953846), (7.1472993515, -51.6474058709), (6.8842379506, -50.947473573), (6.6925615738, -50.4994094372)],
                knots=[0.80146309, 0.80146309, 0.80146309, 0.80146309, 0.8149088774, 0.8253764959, 0.8253764959, 0.8253764959, 0.8253764959], degree=3))
            Line((6.1445142804, -50.4994094372), (5.3642448427, -50.4994094372))
        make_face()
        with BuildLine():
            Line((6.6925615738, -50.4994094372), (6.1445142804, -50.4994094372))
            add(Edge.make_bspline(
                [(6.1445142804, -50.4994094372), (6.5186028583, -50.928953846), (7.1472993515, -51.6474058709), (6.8842379506, -50.947473573), (6.6925615738, -50.4994094372)],
                knots=[0.80146309, 0.80146309, 0.80146309, 0.80146309, 0.8149088774, 0.8253764959, 0.8253764959, 0.8253764959, 0.8253764959], degree=3))
        make_face()
    extrude(amount=F2_DEPTH)


with BuildPart() as f2b:
    # F0 (on Front) → F2, piece 2 (new body)
    with BuildSketch(Plane.XZ):
        with Locations((43.4240847826, 29.3800681829)):
            Circle(F0_R)
    extrude(amount=F2_DEPTH)


solid = Compound([f1.part, f1b.part, f2.part, f2b.part])
